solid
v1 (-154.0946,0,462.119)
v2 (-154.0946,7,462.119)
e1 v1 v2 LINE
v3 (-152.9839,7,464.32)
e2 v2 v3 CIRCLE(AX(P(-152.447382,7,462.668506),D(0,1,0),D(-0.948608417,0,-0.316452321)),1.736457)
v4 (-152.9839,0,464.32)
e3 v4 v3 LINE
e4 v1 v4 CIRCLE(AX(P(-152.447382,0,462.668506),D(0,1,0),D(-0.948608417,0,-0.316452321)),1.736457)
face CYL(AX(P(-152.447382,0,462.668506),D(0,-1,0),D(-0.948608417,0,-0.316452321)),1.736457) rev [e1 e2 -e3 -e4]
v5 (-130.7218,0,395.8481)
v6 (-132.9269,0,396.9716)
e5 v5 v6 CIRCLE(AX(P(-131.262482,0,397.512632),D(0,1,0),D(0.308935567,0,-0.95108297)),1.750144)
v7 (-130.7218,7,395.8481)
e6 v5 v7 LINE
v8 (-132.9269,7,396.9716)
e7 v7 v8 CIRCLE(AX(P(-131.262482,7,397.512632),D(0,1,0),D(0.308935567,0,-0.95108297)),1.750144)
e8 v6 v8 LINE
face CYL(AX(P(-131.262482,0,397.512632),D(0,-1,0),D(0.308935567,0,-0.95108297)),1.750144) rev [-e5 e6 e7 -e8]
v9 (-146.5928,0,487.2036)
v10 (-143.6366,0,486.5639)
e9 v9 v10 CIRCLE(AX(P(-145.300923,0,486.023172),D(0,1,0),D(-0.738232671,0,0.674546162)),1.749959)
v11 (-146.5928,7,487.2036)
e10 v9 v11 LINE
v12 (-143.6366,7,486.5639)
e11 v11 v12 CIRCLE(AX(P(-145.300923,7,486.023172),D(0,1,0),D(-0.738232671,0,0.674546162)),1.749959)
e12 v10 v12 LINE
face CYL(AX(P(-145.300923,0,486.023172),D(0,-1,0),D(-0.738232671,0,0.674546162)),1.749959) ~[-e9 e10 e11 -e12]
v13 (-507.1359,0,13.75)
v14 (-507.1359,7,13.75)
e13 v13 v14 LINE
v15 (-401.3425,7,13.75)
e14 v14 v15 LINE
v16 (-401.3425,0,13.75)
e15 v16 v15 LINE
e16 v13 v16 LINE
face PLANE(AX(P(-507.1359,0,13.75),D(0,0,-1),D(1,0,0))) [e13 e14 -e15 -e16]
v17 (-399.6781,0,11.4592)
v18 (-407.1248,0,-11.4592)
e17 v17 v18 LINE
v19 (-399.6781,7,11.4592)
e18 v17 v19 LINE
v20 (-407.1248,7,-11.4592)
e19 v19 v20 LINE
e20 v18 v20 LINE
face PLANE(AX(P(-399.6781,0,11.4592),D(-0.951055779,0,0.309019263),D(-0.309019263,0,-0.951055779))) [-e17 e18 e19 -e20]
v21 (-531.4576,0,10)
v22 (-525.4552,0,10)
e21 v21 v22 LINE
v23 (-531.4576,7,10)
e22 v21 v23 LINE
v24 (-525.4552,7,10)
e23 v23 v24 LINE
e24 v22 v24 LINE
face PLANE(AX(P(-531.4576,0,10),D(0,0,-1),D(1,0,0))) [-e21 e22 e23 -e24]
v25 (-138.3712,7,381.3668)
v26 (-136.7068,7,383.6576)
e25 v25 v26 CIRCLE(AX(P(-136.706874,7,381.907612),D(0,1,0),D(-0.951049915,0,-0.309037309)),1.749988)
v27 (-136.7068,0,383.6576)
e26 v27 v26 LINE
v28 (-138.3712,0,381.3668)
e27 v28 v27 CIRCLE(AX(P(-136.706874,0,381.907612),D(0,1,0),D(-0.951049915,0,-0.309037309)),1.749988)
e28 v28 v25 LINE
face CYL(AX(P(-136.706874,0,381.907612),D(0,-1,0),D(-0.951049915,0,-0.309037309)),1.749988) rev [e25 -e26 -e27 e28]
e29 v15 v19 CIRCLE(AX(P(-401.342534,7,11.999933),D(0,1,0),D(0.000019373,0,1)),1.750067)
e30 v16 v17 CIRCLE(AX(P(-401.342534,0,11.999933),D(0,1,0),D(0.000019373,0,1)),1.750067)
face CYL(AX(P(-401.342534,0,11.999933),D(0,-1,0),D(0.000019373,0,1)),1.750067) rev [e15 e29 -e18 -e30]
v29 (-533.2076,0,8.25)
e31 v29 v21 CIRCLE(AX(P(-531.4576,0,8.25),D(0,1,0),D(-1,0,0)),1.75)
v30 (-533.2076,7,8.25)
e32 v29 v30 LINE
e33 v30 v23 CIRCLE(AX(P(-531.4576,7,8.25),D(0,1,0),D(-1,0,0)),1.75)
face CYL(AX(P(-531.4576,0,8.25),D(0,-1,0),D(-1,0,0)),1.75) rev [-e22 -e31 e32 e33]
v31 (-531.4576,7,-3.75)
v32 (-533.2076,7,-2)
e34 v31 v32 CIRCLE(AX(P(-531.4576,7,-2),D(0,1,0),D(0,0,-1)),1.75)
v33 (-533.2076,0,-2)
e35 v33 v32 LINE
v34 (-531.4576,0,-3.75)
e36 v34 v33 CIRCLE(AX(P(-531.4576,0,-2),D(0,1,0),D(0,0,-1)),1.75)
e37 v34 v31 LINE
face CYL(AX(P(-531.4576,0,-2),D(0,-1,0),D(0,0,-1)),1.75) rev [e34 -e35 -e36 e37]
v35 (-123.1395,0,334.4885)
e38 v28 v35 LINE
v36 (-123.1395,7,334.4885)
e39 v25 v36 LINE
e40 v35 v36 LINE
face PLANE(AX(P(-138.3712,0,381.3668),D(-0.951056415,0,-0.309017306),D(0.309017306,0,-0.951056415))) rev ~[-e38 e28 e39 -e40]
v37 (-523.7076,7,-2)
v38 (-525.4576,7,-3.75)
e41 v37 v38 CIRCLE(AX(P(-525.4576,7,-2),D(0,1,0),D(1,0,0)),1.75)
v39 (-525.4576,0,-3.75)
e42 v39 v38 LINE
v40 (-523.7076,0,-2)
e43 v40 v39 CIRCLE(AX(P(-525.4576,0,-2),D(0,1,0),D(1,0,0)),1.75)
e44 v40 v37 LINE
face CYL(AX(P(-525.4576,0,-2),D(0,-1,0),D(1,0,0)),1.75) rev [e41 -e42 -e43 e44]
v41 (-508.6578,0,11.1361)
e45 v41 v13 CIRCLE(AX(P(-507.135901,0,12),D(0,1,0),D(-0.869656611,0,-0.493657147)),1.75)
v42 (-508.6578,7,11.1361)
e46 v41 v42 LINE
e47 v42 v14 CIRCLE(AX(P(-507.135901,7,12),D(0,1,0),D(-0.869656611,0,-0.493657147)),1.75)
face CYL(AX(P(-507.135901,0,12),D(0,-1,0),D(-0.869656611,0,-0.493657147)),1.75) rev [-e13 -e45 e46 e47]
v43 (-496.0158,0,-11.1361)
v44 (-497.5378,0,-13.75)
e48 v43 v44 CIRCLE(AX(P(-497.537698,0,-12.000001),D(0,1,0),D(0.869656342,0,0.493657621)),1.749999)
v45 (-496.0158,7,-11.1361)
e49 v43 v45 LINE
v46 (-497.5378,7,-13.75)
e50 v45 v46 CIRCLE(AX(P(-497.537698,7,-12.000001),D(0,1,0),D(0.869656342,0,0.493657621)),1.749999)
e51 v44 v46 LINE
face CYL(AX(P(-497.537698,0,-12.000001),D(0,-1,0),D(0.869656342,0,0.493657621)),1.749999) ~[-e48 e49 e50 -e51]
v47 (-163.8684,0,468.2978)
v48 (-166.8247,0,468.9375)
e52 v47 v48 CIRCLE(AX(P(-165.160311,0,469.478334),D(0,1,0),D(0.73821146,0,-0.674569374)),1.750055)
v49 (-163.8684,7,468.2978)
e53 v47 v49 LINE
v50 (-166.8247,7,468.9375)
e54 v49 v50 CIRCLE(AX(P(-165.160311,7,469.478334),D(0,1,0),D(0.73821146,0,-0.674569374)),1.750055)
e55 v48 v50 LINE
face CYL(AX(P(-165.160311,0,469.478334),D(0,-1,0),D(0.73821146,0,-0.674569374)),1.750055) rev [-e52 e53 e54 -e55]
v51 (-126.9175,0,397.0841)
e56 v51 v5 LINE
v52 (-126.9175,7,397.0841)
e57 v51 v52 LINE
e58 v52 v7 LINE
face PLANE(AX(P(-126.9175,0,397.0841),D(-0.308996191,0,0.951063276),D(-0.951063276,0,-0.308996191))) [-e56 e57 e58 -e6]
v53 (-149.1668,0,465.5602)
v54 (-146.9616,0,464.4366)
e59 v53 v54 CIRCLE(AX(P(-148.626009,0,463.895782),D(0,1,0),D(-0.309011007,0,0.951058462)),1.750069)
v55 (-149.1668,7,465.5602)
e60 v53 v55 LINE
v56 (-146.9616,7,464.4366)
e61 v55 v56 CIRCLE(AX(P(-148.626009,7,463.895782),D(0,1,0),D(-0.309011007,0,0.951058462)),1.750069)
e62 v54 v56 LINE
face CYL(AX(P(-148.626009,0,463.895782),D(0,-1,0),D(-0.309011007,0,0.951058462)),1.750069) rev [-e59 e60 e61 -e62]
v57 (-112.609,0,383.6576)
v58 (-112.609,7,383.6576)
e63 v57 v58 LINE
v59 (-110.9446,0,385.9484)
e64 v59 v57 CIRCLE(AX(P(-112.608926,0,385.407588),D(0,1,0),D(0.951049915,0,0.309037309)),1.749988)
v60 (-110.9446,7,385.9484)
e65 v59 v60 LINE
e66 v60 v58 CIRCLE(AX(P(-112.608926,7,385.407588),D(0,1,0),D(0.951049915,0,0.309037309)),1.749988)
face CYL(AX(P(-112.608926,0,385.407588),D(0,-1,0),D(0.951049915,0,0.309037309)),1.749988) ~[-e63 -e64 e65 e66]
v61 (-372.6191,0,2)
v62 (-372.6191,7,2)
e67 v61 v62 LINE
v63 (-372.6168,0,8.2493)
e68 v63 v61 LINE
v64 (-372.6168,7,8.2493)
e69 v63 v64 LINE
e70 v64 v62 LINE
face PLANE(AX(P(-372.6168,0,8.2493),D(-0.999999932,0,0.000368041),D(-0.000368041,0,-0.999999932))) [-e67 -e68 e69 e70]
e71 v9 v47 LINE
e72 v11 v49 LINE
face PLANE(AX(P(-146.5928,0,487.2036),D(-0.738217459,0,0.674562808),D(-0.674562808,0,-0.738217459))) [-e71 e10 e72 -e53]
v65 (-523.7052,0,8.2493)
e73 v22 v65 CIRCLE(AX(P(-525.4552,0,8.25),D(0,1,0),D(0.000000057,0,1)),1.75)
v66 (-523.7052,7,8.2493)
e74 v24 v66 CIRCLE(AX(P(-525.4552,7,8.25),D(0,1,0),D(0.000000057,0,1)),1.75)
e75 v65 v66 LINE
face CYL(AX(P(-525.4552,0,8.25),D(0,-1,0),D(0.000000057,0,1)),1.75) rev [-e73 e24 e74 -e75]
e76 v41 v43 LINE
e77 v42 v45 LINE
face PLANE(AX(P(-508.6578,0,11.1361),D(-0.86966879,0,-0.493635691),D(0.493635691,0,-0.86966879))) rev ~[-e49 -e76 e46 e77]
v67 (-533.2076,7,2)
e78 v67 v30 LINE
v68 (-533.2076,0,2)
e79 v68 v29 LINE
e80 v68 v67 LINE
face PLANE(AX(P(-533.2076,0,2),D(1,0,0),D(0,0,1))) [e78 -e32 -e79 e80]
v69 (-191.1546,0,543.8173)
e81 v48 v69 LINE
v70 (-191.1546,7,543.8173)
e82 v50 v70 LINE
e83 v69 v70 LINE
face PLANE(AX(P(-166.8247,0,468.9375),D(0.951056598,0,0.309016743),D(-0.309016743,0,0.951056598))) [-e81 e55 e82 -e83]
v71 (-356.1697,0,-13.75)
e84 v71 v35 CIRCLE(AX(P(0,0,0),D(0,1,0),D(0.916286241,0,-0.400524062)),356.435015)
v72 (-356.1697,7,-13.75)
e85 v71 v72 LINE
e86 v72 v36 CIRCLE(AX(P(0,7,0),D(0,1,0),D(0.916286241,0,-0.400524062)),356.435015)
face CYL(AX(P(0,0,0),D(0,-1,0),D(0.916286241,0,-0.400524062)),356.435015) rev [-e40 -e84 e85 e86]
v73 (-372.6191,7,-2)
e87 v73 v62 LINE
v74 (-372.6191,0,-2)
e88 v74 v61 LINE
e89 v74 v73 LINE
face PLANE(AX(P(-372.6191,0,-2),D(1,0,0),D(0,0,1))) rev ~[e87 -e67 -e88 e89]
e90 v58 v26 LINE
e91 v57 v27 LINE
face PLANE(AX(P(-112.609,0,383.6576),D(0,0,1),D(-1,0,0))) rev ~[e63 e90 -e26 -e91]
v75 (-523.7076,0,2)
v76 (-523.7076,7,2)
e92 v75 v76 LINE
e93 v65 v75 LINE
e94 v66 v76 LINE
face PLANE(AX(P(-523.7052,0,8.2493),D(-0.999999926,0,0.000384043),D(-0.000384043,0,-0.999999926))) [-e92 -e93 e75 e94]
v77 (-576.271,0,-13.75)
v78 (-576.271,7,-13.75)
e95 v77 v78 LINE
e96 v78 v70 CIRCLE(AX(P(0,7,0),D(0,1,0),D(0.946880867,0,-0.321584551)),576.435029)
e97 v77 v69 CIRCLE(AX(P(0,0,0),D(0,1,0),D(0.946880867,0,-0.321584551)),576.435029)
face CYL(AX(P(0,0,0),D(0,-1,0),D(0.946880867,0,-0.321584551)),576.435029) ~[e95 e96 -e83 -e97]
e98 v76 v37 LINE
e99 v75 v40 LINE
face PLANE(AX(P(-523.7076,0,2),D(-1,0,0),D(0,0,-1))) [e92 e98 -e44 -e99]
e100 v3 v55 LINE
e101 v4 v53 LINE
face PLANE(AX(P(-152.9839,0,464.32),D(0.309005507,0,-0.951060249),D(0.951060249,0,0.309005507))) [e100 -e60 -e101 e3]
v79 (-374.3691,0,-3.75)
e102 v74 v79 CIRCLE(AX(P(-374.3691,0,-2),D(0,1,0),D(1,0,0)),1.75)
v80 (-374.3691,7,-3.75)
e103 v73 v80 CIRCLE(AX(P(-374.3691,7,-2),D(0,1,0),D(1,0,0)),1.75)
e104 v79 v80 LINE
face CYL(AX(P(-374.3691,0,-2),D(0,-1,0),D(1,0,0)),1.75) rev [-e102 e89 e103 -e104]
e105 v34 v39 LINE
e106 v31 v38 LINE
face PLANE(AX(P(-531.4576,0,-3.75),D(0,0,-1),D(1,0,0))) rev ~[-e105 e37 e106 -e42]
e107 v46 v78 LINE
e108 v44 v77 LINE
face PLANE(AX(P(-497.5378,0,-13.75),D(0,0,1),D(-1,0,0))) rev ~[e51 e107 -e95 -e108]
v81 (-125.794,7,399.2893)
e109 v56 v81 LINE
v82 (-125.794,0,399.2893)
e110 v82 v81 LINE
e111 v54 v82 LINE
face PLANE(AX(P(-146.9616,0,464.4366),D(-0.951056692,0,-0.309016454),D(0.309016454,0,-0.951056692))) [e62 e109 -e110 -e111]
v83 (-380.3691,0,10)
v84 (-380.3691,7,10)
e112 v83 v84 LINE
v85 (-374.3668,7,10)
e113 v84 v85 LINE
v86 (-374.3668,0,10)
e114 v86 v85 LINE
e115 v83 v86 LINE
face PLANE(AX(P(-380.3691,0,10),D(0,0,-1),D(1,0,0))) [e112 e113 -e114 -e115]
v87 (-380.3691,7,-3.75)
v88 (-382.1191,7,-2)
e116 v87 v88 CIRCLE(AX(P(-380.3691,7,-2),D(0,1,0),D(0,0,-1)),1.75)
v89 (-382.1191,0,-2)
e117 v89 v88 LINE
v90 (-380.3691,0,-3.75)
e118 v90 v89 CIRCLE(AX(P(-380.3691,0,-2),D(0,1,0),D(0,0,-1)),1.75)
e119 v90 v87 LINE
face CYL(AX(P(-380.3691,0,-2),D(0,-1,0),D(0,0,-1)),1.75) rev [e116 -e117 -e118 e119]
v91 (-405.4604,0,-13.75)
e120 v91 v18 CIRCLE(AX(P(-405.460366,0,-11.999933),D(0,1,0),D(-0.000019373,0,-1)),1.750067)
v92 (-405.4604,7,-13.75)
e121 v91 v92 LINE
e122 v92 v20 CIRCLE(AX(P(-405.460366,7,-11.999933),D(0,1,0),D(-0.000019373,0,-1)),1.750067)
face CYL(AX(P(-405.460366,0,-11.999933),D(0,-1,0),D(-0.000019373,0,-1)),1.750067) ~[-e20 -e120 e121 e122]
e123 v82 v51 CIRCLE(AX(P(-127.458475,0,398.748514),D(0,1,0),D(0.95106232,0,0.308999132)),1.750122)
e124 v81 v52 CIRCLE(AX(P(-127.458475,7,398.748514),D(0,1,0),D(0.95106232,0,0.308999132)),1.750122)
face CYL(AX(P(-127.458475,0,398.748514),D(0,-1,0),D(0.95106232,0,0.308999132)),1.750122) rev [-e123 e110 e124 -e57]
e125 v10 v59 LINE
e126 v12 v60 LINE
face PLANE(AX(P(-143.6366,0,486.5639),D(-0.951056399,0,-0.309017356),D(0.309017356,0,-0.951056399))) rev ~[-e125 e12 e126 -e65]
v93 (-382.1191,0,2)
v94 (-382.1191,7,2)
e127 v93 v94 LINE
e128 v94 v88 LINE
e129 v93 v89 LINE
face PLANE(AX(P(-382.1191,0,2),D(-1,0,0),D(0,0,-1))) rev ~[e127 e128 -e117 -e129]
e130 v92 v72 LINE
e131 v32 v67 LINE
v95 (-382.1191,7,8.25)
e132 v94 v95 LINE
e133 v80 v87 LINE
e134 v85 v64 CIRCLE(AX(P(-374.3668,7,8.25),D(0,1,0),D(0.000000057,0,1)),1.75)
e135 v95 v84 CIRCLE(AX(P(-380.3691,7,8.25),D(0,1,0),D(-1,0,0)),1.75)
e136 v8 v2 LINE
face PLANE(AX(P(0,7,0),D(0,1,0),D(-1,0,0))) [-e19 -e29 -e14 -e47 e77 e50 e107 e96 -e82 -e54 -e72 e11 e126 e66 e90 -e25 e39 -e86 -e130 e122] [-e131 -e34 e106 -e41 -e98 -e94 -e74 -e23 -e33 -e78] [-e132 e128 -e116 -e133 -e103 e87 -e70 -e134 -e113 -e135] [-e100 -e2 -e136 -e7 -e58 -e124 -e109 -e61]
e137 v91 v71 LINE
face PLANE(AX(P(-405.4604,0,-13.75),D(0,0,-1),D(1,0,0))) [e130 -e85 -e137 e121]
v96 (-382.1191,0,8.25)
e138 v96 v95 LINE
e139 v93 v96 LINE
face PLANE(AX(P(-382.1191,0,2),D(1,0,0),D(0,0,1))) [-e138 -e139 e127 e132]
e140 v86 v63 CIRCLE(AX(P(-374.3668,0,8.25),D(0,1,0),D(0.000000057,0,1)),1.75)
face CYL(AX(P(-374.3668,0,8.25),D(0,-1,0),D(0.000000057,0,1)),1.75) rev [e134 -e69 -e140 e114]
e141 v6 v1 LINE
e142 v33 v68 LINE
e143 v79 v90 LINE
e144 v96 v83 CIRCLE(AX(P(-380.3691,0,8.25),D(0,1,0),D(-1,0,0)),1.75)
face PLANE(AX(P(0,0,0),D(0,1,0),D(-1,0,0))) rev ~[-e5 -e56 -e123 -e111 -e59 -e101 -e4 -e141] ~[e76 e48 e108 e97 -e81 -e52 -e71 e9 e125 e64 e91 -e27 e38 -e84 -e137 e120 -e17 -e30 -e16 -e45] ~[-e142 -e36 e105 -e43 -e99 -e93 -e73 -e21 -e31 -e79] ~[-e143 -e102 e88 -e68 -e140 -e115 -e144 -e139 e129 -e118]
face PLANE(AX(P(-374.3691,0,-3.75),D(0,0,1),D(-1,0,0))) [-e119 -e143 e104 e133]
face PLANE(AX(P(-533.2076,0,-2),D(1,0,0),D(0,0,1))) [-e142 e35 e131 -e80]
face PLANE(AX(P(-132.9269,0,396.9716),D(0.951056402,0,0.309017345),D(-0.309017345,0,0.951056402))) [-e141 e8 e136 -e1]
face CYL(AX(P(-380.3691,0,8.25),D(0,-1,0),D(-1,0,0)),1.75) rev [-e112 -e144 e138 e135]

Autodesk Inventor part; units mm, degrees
ref_plane "YZ Plane" through (0, 0, 0) normal (1, 0, 0) x (0, 1, 0)
ref_plane "XZ Plane" through (0, 0, 0) normal (0, 1, 0) x (-1, 0, 0)
ref_plane "XY Plane" through (0, 0, 0) normal (0, 0, 1) x (1, 0, 0)
sketch "Sketch1" plane through (0, 0, 0) normal (0, 1, 0) x (-1, 0, 0)
  line L0 (-545.8153, 185.3726) -> (-326.5965, 142.7608)
  line L1 (-545.8153, -185.3726) -> (-326.5965, -142.7608)
  arc A0 (-545.8153, -185.3726) -> (-545.8153, 185.3726) centre (0, 0) ccw
  arc A1 (374.3691, 3.75) -> (372.6191, 2) centre (374.3691, 2) ccw
  arc A2 (372.6191, -2) -> (374.3691, -3.75) centre (374.3691, -2) ccw
  line L2 (380.3691, 3.75) -> (374.3691, 3.75)
  line L3 (374.3691, -3.75) -> (380.3691, -3.75)
  line L4 (382.1191, 2) -> (382.1191, -2)
  arc A3 (380.3691, -3.75) -> (382.1191, -2) centre (380.3691, -2) ccw
  arc A4 (382.1191, 2) -> (380.3691, 3.75) centre (380.3691, 2) ccw
  line L5 (372.6191, -2) -> (372.6191, 2)
  line L6 (523.7076, 2) -> (523.7076, -2)
  arc A5 (523.7076, -2) -> (525.4576, -3.75) centre (525.4576, -2) ccw
  arc A6 (525.4576, 3.75) -> (523.7076, 2) centre (525.4576, 2) ccw
  line L7 (531.4576, -3.75) -> (525.4576, -3.75)
  line L8 (525.4576, 3.75) -> (531.4576, 3.75)
  arc A7 (531.4576, -3.75) -> (533.2076, -2) centre (531.4576, -2) ccw
  line L9 (533.2076, -2) -> (533.2076, 2)
  arc A8 (533.2076, 2) -> (531.4576, 3.75) centre (531.4576, 2) ccw
  arc A9 (-326.5965, -142.7608) -> (-326.5965, 142.7608) centre (0, 0) ccw
  line L10 (116.1792, 364.0349) -> (119.9834, 362.7989)
  arc A10 (121.107, 360.5937) -> (119.9834, 362.7989) centre (119.4426, 361.1345) ccw
  arc A11 (116.1792, 364.0349) -> (113.9741, 362.9114) centre (115.6384, 362.3706) ccw
  line L11 (119.2529, 354.8874) -> (121.107, 360.5937)
  line L12 (113.9741, 362.9114) -> (112.12, 357.205)
  line L13 (117.0478, 353.7638) -> (113.2435, 354.9999)
  arc A12 (112.12, 357.205) -> (113.2435, 354.9999) centre (113.7843, 356.6642) ccw
  arc A13 (117.0478, 353.7638) -> (119.2529, 354.8874) centre (117.5885, 355.4282) ccw
  arc A14 (163.7367, 497.4575) -> (165.9418, 498.5811) centre (164.2774, 499.1218) ccw
  arc A15 (158.8089, 500.8987) -> (159.9324, 498.6936) centre (160.4732, 500.3579) ccw
  line L14 (159.9324, 498.6936) -> (163.7367, 497.4575)
  line L15 (158.8089, 500.8987) -> (160.663, 506.605)
  line L16 (167.7959, 504.2874) -> (165.9418, 498.5811)
  arc A16 (162.8681, 507.7286) -> (160.663, 506.605) centre (162.3273, 506.0642) ccw
  line L17 (166.6723, 506.4925) -> (162.8681, 507.7286)
  arc A17 (167.7959, 504.2874) -> (166.6723, 506.4925) centre (166.1315, 504.8282) ccw
  line L18 (-310.3164, 222.986) -> (-307.9653, 226.222)
  arc A18 (-305.5209, 226.6092) -> (-307.9653, 226.222) centre (-306.5495, 225.1934) ccw
  arc A19 (-310.3164, 222.986) -> (-309.9293, 220.5416) centre (-308.9007, 221.9573) ccw
  line L19 (-300.6668, 223.0825) -> (-305.5209, 226.6092)
  line L20 (-309.9293, 220.5416) -> (-305.0752, 217.0148)
  line L21 (-300.2796, 220.6381) -> (-302.6308, 217.402)
  arc A20 (-305.0752, 217.0148) -> (-302.6308, 217.402) centre (-304.0466, 218.4306) ccw
  arc A21 (-300.2796, 220.6381) -> (-300.6668, 223.0825) centre (-301.6954, 221.6667) ccw
  arc A22 (-422.5128, 309.4456) -> (-422.8999, 311.89) centre (-423.9286, 310.4743) ccw
  arc A23 (-427.3083, 305.8224) -> (-424.8639, 306.2096) centre (-426.2797, 307.2382) ccw
  line L22 (-424.8639, 306.2096) -> (-422.5128, 309.4456)
  line L23 (-427.3083, 305.8224) -> (-432.1624, 309.3491)
  line L24 (-427.754, 315.4167) -> (-422.8999, 311.89)
  arc A24 (-432.5496, 311.7935) -> (-432.1624, 309.3491) centre (-431.1338, 310.7649) ccw
  line L25 (-430.1984, 315.0296) -> (-432.5496, 311.7935)
  arc A25 (-427.754, 315.4167) -> (-430.1984, 315.0296) centre (-428.7827, 314.001) ccw
  line L26 (-307.9653, -226.222) -> (-310.3164, -222.986)
  arc A26 (-309.9293, -220.5416) -> (-310.3164, -222.986) centre (-308.9007, -221.9573) ccw
  arc A27 (-307.9653, -226.222) -> (-305.5209, -226.6092) centre (-306.5495, -225.1934) ccw
  line L27 (-305.0752, -217.0148) -> (-309.9293, -220.5416)
  line L28 (-305.5209, -226.6092) -> (-300.6668, -223.0825)
  line L29 (-302.6308, -217.402) -> (-300.2796, -220.6381)
  arc A28 (-300.6668, -223.0825) -> (-300.2796, -220.6381) centre (-301.6954, -221.6667) ccw
  arc A29 (-302.6308, -217.402) -> (-305.0752, -217.0148) centre (-304.0466, -218.4306) ccw
  arc A30 (-424.8639, -306.2096) -> (-427.3083, -305.8224) centre (-426.2797, -307.2382) ccw
  arc A31 (-422.8999, -311.89) -> (-422.5128, -309.4456) centre (-423.9286, -310.4743) ccw
  line L30 (-422.5128, -309.4456) -> (-424.8639, -306.2096)
  line L31 (-422.8999, -311.89) -> (-427.754, -315.4167)
  line L32 (-432.1624, -309.3491) -> (-427.3083, -305.8224)
  arc A32 (-430.1984, -315.0296) -> (-427.754, -315.4167) centre (-428.7827, -314.001) ccw
  line L33 (-432.5496, -311.7935) -> (-430.1984, -315.0296)
  arc A33 (-432.1624, -309.3491) -> (-432.5496, -311.7935) centre (-431.1338, -310.7649) ccw
  line L34 (119.9834, -362.7989) -> (116.1792, -364.0349)
  arc A34 (113.9741, -362.9114) -> (116.1792, -364.0349) centre (115.6384, -362.3706) ccw
  arc A35 (119.9834, -362.7989) -> (121.107, -360.5937) centre (119.4426, -361.1345) ccw
  line L35 (112.12, -357.205) -> (113.9741, -362.9114)
  line L36 (121.107, -360.5937) -> (119.2529, -354.8874)
  line L37 (113.2435, -354.9999) -> (117.0478, -353.7638)
  arc A36 (119.2529, -354.8874) -> (117.0478, -353.7638) centre (117.5885, -355.4282) ccw
  arc A37 (113.2435, -354.9999) -> (112.12, -357.205) centre (113.7843, -356.6642) ccw
  arc A38 (159.9324, -498.6936) -> (158.8089, -500.8987) centre (160.4732, -500.3579) ccw
  arc A39 (165.9418, -498.5811) -> (163.7367, -497.4575) centre (164.2774, -499.1218) ccw
  line L38 (163.7367, -497.4575) -> (159.9324, -498.6936)
  line L39 (165.9418, -498.5811) -> (167.7959, -504.2874)
  line L40 (160.663, -506.605) -> (158.8089, -500.8987)
  arc A40 (166.6723, -506.4925) -> (167.7959, -504.2874) centre (166.1315, -504.8282) ccw
  line L41 (162.8681, -507.7286) -> (166.6723, -506.4925)
  arc A41 (160.663, -506.605) -> (162.8681, -507.7286) centre (162.3273, -506.0642) ccw
  line L42 (225.4462, 74.1184) -> (211.8442, 74.1184)
  line L43 (225.4462, 74.1184) -> (225.4462, 49.1184)
  arc A42 (405.4604, -13.75) -> (407.1248, -11.4592) centre (405.4604, -12) ccw
  arc A43 (496.0158, -11.1361) -> (497.5378, -13.75) centre (497.5378, -12) ccw
  line L44 (508.6578, 11.1361) -> (496.0158, -11.1361)
  arc A44 (508.6578, 11.1361) -> (507.1359, 13.75) centre (507.1359, 12) ccw
  arc A45 (416.8691, -2) -> (418.6191, -3.75) centre (418.6191, -2) ccw
  line L45 (399.6781, 11.4592) -> (407.1248, -11.4592)
  line L46 (416.8691, 2) -> (416.8691, -2)
  arc A46 (401.3425, 13.75) -> (399.6781, 11.4592) centre (401.3425, 12) ccw
  arc A47 (418.6191, 3.75) -> (416.8691, 2) centre (418.6191, 2) ccw
  line L47 (507.1359, 13.75) -> (401.3425, 13.75)
  line L48 (418.6191, -3.75) -> (487.1191, -3.75)
  line L49 (487.1191, 3.75) -> (418.6191, 3.75)
  arc A48 (487.1191, -3.75) -> (488.8691, -2.0136) centre (487.1326, -2.0136) ccw
  line L50 (488.8691, -2.0136) -> (488.8691, 2)
  arc A49 (488.8691, 2) -> (487.1191, 3.75) centre (487.1191, 2) ccw
  line L51 (405.4604, -13.75) -> (356.1697, -13.75)
  line L52 (497.5378, -13.75) -> (576.271, -13.75)
  arc A50 (163.8684, 468.2978) -> (166.8247, 468.9375) centre (165.1603, 469.4783) ccw
  line L53 (146.5928, 487.2036) -> (163.8684, 468.2978)
  arc A51 (146.5928, 487.2036) -> (143.6366, 486.5639) centre (145.3009, 486.0231) ccw
  line L54 (152.9839, 464.32) -> (149.1668, 465.5602)
  arc A52 (154.0946, 462.119) -> (152.9839, 464.32) centre (152.4473, 462.6685) ccw
  arc A53 (149.1668, 465.5602) -> (146.9616, 464.4366) centre (148.626, 463.8959) ccw
  arc A54 (110.9446, 385.9484) -> (112.609, 383.6576) centre (112.609, 385.4076) ccw
  arc A55 (138.3712, 381.3668) -> (136.7068, 383.6576) centre (136.7068, 381.9076) ccw
  line L55 (112.609, 383.6576) -> (136.7068, 383.6576)
  line L56 (126.9175, 397.0841) -> (130.7218, 395.8481)
  arc A56 (125.794, 399.2893) -> (126.9175, 397.0841) centre (127.4583, 398.7485) ccw
  line L57 (143.6366, 486.5639) -> (110.9446, 385.9484)
  line L58 (146.9616, 464.4366) -> (125.794, 399.2893)
  line L59 (132.9269, 396.9716) -> (154.0946, 462.119)
  arc A57 (130.7218, 395.8481) -> (132.9269, 396.9716) centre (131.2625, 397.5124) ccw
  line L60 (138.3712, 381.3668) -> (123.1395, 334.4885)
  line L61 (166.8247, 468.9375) -> (191.1546, 543.8173)
  line L62 (-394.3199, 288.9791) -> (-396.679, 285.732)
  arc A58 (-391.8835, 289.3553) -> (-394.3199, 288.9791) centre (-392.915, 287.9584) ccw
  arc A59 (-396.679, 285.732) -> (-396.2919, 283.2876) centre (-395.2632, 284.7034) ccw
  line L63 (-338.4298, 243.4115) -> (-336.0786, 246.6476)
  arc A60 (-340.8742, 243.0243) -> (-338.4298, 243.4115) centre (-339.8456, 244.4401) ccw
  line L64 (-396.2919, 283.2876) -> (-340.8742, 243.0243)
  line L65 (-336.4658, 249.092) -> (-391.8835, 289.3553)
  arc A61 (-336.0786, 246.6476) -> (-336.4658, 249.092) centre (-337.4944, 247.6762) ccw
  line L66 (-396.687, -285.7211) -> (-394.3279, -288.9681)
  arc A62 (-396.2919, -283.2876) -> (-396.687, -285.7211) centre (-395.2821, -284.7004) ccw
  arc A63 (-394.3279, -288.9681) -> (-391.8835, -289.3553) centre (-392.9121, -287.9395) ccw
  line L67 (-336.0786, -246.6476) -> (-338.4298, -243.4115)
  arc A64 (-336.4658, -249.092) -> (-336.0786, -246.6476) centre (-337.4944, -247.6762) ccw
  line L68 (-391.8835, -289.3553) -> (-336.4658, -249.092)
  line L69 (-340.8742, -243.0243) -> (-396.2919, -283.2876)
  arc A65 (-338.4298, -243.4115) -> (-340.8742, -243.0243) centre (-339.8456, -244.4401) ccw
  arc A66 (142.6862, -475.1804) -> (140.6706, -477.4355) centre (142.3349, -476.8947) ccw
  line L70 (167.775, -480.3211) -> (142.6862, -475.1804)
  arc A67 (167.775, -480.3211) -> (169.7906, -478.0659) centre (168.1263, -478.6067) ccw
  line L71 (149.1539, -465.5644) -> (152.971, -464.3241)
  arc A68 (146.9616, -464.4366) -> (149.1539, -465.5644) centre (148.6173, -463.9129) ccw
  arc A69 (152.971, -464.3241) -> (154.0946, -462.119) centre (152.4302, -462.6598) ccw
  arc A70 (137.0987, -377.4504) -> (134.4057, -376.5754) centre (135.4343, -377.9912) ccw
  arc A71 (112.2171, -389.8648) -> (114.9101, -390.7398) centre (113.8815, -389.324) ccw
  line L72 (134.4057, -376.5754) -> (114.9101, -390.7398)
  line L73 (130.7218, -395.8481) -> (126.9175, -397.0841)
  arc A72 (132.9269, -396.9716) -> (130.7218, -395.8481) centre (131.2625, -397.5124) ccw
  line L74 (169.7906, -478.0659) -> (137.0987, -377.4504)
  line L75 (154.0946, -462.119) -> (132.9269, -396.9716)
  line L76 (125.794, -399.2893) -> (146.9616, -464.4366)
  arc A73 (126.9175, -397.0841) -> (125.794, -399.2893) centre (127.4583, -398.7485) ccw
  line L77 (112.2171, -389.8648) -> (96.9855, -342.9865)
  line L78 (140.6706, -477.4355) -> (165.0005, -552.3153)
  line L79 (-432.5496, 311.7935) -> (-436.2232, 306.7372)
  line L80 (-435.8361, 304.2928) -> (-430.9801, 300.7647)
  line L81 (-428.5353, 301.1524) -> (-424.8639, 306.2096)
  arc A74 (-436.2232, 306.7372) -> (-435.8361, 304.2928) centre (-434.8075, 305.7085) ccw
  arc A75 (-430.9801, 300.7647) -> (-428.5353, 301.1524) centre (-429.9515, 302.1805) ccw
  line L82 (-310.3164, 222.986) -> (-313.9901, 217.9296)
  line L83 (-313.603, 215.4852) -> (-308.7469, 211.9571)
  line L84 (-306.3022, 212.3448) -> (-302.6308, 217.402)
  arc A76 (-313.9901, 217.9296) -> (-313.603, 215.4852) centre (-312.5743, 216.901) ccw
  arc A77 (-308.7469, 211.9571) -> (-306.3022, 212.3448) centre (-307.7183, 213.3729) ccw
  line L85 (-430.1984, -315.0296) -> (-426.5248, -320.086)
  arc A78 (-426.5248, -320.086) -> (-424.0804, -320.4731) centre (-425.109, -319.0573) ccw
  line L86 (-424.0804, -320.4731) -> (-419.2244, -316.945)
  arc A79 (-419.2244, -316.945) -> (-418.8376, -314.5001) centre (-420.253, -315.5292) ccw
  line L87 (-418.8376, -314.5001) -> (-422.5128, -309.4456)
  line L88 (-307.9653, -226.222) -> (-304.2917, -231.2784)
  arc A80 (-304.2917, -231.2784) -> (-301.8472, -231.6655) centre (-302.8759, -230.2498) ccw
  line L89 (-301.8472, -231.6655) -> (-296.9912, -228.1374)
  line L90 (-296.6045, -225.6925) -> (-300.2796, -220.6381)
  arc A81 (-296.9912, -228.1374) -> (-296.6045, -225.6925) centre (-298.0199, -226.7217) ccw
  line L91 (166.6723, -506.4925) -> (172.6164, -504.5612)
  arc A82 (172.6164, -504.5612) -> (173.74, -502.356) centre (172.0756, -502.8968) ccw
  line L92 (173.74, -502.356) -> (171.8852, -496.6475)
  arc A83 (171.8852, -496.6475) -> (169.6794, -495.5241) centre (170.2208, -497.1882) ccw
  line L93 (169.6794, -495.5241) -> (163.7367, -497.4575)
  line L94 (119.9834, -362.7989) -> (125.9275, -360.8675)
  arc A84 (125.9275, -360.8675) -> (127.0511, -358.6624) centre (125.3867, -359.2032) ccw
  line L95 (127.0511, -358.6624) -> (125.1963, -352.9538)
  line L96 (122.9905, -351.8304) -> (117.0478, -353.7638)
  arc A85 (125.1963, -352.9538) -> (122.9905, -351.8304) centre (123.5319, -353.4946) ccw
  line L97 (533.2076, 2) -> (533.2076, 8.25)
  arc A86 (533.2076, 8.25) -> (531.4576, 10) centre (531.4576, 8.25) ccw
  line L98 (531.4576, 10) -> (525.4552, 10)
  arc A87 (525.4552, 10) -> (523.7052, 8.2493) centre (525.4552, 8.25) ccw
  line L99 (523.7052, 8.2493) -> (523.7076, 2)
  line L100 (382.1191, 2) -> (382.1191, 8.25)
  arc A88 (382.1191, 8.25) -> (380.3691, 10) centre (380.3691, 8.25) ccw
  line L101 (380.3691, 10) -> (374.3668, 10)
  line L102 (372.6168, 8.2493) -> (372.6191, 2)
  arc A89 (374.3668, 10) -> (372.6168, 8.2493) centre (374.3668, 8.25) ccw
  line L103 (162.8681, 507.7286) -> (156.924, 509.6599)
  arc A90 (156.924, 509.6599) -> (154.7189, 508.5364) centre (156.3832, 507.9956) ccw
  line L104 (154.7189, 508.5364) -> (152.864, 502.8278)
  arc A91 (152.864, 502.8278) -> (153.9882, 500.6225) centre (154.5284, 502.287) ccw
  line L105 (153.9882, 500.6225) -> (159.9324, 498.6936)
  line L106 (116.1792, 364.0349) -> (110.2351, 365.9663)
  arc A92 (110.2351, 365.9663) -> (108.03, 364.8427) centre (109.6943, 364.3019) ccw
  line L107 (108.03, 364.8427) -> (106.1751, 359.1341)
  line L108 (107.2993, 356.9288) -> (113.2435, 354.9999)
  arc A93 (106.1751, 359.1341) -> (107.2993, 356.9288) centre (107.8395, 358.5934) ccw
  point P0 (494.5322, -13.75)
  point P1 (417.3817, -3.2374)
  point P2 (417.3817, 3.2374)
  point P3 (488.3566, 3.2374)
  point P4 (165.8959, 466.0791)
  point P5 (147.8315, 465.4551)
  point P6 (125.8991, 397.954)
  point P7 (132.057, 395.9532)
  point P8 (-396.9917, 284.4297)
  point P9 (-339.5718, 242.7117)
  point P10 (-335.766, 247.95)
  point P11 (-393.1859, -289.6679)
  point P12 (-335.766, -247.95)
  point P13 (-339.5718, -242.7117)
  point P14 (139.7418, -474.577)
  point P15 (153.9895, -463.4543)
  point P16 (132.057, -395.9532)
  point P17 (125.8991, -397.954)
  point P18 (-302.6308, 217.402)
  point P19 (113.2435, 354.9999)
  point P20 (372.6191, 2)
  dimension "d34" = 1152.87
  dimension "d45" = 7.5
  dimension "d48" = 712.87
  dimension "d60" = 360
  dimension "d62" = 13.602
  dimension "d63" = 25
  dimension "d72" = 7.5
  dimension "d74" = 3.5
  dimension "d75" = 3.5
  dimension "d79" = 0
  dimension "d80" = 8
  dimension "d81" = 1.75
  dimension "d84" = 8
  dimension "d85" = 1.75
  dimension "d88" = 360
extrude "Extrusion1" add sketch "Sketch1" along normal blind 7 contours A0 L52 A43 L44 A44 L47 A46 L45 A42 L51 A9 L60 A55 L55 A54 L57 A51 L53 A50 L61
properties part number "Level 2b - V2"
